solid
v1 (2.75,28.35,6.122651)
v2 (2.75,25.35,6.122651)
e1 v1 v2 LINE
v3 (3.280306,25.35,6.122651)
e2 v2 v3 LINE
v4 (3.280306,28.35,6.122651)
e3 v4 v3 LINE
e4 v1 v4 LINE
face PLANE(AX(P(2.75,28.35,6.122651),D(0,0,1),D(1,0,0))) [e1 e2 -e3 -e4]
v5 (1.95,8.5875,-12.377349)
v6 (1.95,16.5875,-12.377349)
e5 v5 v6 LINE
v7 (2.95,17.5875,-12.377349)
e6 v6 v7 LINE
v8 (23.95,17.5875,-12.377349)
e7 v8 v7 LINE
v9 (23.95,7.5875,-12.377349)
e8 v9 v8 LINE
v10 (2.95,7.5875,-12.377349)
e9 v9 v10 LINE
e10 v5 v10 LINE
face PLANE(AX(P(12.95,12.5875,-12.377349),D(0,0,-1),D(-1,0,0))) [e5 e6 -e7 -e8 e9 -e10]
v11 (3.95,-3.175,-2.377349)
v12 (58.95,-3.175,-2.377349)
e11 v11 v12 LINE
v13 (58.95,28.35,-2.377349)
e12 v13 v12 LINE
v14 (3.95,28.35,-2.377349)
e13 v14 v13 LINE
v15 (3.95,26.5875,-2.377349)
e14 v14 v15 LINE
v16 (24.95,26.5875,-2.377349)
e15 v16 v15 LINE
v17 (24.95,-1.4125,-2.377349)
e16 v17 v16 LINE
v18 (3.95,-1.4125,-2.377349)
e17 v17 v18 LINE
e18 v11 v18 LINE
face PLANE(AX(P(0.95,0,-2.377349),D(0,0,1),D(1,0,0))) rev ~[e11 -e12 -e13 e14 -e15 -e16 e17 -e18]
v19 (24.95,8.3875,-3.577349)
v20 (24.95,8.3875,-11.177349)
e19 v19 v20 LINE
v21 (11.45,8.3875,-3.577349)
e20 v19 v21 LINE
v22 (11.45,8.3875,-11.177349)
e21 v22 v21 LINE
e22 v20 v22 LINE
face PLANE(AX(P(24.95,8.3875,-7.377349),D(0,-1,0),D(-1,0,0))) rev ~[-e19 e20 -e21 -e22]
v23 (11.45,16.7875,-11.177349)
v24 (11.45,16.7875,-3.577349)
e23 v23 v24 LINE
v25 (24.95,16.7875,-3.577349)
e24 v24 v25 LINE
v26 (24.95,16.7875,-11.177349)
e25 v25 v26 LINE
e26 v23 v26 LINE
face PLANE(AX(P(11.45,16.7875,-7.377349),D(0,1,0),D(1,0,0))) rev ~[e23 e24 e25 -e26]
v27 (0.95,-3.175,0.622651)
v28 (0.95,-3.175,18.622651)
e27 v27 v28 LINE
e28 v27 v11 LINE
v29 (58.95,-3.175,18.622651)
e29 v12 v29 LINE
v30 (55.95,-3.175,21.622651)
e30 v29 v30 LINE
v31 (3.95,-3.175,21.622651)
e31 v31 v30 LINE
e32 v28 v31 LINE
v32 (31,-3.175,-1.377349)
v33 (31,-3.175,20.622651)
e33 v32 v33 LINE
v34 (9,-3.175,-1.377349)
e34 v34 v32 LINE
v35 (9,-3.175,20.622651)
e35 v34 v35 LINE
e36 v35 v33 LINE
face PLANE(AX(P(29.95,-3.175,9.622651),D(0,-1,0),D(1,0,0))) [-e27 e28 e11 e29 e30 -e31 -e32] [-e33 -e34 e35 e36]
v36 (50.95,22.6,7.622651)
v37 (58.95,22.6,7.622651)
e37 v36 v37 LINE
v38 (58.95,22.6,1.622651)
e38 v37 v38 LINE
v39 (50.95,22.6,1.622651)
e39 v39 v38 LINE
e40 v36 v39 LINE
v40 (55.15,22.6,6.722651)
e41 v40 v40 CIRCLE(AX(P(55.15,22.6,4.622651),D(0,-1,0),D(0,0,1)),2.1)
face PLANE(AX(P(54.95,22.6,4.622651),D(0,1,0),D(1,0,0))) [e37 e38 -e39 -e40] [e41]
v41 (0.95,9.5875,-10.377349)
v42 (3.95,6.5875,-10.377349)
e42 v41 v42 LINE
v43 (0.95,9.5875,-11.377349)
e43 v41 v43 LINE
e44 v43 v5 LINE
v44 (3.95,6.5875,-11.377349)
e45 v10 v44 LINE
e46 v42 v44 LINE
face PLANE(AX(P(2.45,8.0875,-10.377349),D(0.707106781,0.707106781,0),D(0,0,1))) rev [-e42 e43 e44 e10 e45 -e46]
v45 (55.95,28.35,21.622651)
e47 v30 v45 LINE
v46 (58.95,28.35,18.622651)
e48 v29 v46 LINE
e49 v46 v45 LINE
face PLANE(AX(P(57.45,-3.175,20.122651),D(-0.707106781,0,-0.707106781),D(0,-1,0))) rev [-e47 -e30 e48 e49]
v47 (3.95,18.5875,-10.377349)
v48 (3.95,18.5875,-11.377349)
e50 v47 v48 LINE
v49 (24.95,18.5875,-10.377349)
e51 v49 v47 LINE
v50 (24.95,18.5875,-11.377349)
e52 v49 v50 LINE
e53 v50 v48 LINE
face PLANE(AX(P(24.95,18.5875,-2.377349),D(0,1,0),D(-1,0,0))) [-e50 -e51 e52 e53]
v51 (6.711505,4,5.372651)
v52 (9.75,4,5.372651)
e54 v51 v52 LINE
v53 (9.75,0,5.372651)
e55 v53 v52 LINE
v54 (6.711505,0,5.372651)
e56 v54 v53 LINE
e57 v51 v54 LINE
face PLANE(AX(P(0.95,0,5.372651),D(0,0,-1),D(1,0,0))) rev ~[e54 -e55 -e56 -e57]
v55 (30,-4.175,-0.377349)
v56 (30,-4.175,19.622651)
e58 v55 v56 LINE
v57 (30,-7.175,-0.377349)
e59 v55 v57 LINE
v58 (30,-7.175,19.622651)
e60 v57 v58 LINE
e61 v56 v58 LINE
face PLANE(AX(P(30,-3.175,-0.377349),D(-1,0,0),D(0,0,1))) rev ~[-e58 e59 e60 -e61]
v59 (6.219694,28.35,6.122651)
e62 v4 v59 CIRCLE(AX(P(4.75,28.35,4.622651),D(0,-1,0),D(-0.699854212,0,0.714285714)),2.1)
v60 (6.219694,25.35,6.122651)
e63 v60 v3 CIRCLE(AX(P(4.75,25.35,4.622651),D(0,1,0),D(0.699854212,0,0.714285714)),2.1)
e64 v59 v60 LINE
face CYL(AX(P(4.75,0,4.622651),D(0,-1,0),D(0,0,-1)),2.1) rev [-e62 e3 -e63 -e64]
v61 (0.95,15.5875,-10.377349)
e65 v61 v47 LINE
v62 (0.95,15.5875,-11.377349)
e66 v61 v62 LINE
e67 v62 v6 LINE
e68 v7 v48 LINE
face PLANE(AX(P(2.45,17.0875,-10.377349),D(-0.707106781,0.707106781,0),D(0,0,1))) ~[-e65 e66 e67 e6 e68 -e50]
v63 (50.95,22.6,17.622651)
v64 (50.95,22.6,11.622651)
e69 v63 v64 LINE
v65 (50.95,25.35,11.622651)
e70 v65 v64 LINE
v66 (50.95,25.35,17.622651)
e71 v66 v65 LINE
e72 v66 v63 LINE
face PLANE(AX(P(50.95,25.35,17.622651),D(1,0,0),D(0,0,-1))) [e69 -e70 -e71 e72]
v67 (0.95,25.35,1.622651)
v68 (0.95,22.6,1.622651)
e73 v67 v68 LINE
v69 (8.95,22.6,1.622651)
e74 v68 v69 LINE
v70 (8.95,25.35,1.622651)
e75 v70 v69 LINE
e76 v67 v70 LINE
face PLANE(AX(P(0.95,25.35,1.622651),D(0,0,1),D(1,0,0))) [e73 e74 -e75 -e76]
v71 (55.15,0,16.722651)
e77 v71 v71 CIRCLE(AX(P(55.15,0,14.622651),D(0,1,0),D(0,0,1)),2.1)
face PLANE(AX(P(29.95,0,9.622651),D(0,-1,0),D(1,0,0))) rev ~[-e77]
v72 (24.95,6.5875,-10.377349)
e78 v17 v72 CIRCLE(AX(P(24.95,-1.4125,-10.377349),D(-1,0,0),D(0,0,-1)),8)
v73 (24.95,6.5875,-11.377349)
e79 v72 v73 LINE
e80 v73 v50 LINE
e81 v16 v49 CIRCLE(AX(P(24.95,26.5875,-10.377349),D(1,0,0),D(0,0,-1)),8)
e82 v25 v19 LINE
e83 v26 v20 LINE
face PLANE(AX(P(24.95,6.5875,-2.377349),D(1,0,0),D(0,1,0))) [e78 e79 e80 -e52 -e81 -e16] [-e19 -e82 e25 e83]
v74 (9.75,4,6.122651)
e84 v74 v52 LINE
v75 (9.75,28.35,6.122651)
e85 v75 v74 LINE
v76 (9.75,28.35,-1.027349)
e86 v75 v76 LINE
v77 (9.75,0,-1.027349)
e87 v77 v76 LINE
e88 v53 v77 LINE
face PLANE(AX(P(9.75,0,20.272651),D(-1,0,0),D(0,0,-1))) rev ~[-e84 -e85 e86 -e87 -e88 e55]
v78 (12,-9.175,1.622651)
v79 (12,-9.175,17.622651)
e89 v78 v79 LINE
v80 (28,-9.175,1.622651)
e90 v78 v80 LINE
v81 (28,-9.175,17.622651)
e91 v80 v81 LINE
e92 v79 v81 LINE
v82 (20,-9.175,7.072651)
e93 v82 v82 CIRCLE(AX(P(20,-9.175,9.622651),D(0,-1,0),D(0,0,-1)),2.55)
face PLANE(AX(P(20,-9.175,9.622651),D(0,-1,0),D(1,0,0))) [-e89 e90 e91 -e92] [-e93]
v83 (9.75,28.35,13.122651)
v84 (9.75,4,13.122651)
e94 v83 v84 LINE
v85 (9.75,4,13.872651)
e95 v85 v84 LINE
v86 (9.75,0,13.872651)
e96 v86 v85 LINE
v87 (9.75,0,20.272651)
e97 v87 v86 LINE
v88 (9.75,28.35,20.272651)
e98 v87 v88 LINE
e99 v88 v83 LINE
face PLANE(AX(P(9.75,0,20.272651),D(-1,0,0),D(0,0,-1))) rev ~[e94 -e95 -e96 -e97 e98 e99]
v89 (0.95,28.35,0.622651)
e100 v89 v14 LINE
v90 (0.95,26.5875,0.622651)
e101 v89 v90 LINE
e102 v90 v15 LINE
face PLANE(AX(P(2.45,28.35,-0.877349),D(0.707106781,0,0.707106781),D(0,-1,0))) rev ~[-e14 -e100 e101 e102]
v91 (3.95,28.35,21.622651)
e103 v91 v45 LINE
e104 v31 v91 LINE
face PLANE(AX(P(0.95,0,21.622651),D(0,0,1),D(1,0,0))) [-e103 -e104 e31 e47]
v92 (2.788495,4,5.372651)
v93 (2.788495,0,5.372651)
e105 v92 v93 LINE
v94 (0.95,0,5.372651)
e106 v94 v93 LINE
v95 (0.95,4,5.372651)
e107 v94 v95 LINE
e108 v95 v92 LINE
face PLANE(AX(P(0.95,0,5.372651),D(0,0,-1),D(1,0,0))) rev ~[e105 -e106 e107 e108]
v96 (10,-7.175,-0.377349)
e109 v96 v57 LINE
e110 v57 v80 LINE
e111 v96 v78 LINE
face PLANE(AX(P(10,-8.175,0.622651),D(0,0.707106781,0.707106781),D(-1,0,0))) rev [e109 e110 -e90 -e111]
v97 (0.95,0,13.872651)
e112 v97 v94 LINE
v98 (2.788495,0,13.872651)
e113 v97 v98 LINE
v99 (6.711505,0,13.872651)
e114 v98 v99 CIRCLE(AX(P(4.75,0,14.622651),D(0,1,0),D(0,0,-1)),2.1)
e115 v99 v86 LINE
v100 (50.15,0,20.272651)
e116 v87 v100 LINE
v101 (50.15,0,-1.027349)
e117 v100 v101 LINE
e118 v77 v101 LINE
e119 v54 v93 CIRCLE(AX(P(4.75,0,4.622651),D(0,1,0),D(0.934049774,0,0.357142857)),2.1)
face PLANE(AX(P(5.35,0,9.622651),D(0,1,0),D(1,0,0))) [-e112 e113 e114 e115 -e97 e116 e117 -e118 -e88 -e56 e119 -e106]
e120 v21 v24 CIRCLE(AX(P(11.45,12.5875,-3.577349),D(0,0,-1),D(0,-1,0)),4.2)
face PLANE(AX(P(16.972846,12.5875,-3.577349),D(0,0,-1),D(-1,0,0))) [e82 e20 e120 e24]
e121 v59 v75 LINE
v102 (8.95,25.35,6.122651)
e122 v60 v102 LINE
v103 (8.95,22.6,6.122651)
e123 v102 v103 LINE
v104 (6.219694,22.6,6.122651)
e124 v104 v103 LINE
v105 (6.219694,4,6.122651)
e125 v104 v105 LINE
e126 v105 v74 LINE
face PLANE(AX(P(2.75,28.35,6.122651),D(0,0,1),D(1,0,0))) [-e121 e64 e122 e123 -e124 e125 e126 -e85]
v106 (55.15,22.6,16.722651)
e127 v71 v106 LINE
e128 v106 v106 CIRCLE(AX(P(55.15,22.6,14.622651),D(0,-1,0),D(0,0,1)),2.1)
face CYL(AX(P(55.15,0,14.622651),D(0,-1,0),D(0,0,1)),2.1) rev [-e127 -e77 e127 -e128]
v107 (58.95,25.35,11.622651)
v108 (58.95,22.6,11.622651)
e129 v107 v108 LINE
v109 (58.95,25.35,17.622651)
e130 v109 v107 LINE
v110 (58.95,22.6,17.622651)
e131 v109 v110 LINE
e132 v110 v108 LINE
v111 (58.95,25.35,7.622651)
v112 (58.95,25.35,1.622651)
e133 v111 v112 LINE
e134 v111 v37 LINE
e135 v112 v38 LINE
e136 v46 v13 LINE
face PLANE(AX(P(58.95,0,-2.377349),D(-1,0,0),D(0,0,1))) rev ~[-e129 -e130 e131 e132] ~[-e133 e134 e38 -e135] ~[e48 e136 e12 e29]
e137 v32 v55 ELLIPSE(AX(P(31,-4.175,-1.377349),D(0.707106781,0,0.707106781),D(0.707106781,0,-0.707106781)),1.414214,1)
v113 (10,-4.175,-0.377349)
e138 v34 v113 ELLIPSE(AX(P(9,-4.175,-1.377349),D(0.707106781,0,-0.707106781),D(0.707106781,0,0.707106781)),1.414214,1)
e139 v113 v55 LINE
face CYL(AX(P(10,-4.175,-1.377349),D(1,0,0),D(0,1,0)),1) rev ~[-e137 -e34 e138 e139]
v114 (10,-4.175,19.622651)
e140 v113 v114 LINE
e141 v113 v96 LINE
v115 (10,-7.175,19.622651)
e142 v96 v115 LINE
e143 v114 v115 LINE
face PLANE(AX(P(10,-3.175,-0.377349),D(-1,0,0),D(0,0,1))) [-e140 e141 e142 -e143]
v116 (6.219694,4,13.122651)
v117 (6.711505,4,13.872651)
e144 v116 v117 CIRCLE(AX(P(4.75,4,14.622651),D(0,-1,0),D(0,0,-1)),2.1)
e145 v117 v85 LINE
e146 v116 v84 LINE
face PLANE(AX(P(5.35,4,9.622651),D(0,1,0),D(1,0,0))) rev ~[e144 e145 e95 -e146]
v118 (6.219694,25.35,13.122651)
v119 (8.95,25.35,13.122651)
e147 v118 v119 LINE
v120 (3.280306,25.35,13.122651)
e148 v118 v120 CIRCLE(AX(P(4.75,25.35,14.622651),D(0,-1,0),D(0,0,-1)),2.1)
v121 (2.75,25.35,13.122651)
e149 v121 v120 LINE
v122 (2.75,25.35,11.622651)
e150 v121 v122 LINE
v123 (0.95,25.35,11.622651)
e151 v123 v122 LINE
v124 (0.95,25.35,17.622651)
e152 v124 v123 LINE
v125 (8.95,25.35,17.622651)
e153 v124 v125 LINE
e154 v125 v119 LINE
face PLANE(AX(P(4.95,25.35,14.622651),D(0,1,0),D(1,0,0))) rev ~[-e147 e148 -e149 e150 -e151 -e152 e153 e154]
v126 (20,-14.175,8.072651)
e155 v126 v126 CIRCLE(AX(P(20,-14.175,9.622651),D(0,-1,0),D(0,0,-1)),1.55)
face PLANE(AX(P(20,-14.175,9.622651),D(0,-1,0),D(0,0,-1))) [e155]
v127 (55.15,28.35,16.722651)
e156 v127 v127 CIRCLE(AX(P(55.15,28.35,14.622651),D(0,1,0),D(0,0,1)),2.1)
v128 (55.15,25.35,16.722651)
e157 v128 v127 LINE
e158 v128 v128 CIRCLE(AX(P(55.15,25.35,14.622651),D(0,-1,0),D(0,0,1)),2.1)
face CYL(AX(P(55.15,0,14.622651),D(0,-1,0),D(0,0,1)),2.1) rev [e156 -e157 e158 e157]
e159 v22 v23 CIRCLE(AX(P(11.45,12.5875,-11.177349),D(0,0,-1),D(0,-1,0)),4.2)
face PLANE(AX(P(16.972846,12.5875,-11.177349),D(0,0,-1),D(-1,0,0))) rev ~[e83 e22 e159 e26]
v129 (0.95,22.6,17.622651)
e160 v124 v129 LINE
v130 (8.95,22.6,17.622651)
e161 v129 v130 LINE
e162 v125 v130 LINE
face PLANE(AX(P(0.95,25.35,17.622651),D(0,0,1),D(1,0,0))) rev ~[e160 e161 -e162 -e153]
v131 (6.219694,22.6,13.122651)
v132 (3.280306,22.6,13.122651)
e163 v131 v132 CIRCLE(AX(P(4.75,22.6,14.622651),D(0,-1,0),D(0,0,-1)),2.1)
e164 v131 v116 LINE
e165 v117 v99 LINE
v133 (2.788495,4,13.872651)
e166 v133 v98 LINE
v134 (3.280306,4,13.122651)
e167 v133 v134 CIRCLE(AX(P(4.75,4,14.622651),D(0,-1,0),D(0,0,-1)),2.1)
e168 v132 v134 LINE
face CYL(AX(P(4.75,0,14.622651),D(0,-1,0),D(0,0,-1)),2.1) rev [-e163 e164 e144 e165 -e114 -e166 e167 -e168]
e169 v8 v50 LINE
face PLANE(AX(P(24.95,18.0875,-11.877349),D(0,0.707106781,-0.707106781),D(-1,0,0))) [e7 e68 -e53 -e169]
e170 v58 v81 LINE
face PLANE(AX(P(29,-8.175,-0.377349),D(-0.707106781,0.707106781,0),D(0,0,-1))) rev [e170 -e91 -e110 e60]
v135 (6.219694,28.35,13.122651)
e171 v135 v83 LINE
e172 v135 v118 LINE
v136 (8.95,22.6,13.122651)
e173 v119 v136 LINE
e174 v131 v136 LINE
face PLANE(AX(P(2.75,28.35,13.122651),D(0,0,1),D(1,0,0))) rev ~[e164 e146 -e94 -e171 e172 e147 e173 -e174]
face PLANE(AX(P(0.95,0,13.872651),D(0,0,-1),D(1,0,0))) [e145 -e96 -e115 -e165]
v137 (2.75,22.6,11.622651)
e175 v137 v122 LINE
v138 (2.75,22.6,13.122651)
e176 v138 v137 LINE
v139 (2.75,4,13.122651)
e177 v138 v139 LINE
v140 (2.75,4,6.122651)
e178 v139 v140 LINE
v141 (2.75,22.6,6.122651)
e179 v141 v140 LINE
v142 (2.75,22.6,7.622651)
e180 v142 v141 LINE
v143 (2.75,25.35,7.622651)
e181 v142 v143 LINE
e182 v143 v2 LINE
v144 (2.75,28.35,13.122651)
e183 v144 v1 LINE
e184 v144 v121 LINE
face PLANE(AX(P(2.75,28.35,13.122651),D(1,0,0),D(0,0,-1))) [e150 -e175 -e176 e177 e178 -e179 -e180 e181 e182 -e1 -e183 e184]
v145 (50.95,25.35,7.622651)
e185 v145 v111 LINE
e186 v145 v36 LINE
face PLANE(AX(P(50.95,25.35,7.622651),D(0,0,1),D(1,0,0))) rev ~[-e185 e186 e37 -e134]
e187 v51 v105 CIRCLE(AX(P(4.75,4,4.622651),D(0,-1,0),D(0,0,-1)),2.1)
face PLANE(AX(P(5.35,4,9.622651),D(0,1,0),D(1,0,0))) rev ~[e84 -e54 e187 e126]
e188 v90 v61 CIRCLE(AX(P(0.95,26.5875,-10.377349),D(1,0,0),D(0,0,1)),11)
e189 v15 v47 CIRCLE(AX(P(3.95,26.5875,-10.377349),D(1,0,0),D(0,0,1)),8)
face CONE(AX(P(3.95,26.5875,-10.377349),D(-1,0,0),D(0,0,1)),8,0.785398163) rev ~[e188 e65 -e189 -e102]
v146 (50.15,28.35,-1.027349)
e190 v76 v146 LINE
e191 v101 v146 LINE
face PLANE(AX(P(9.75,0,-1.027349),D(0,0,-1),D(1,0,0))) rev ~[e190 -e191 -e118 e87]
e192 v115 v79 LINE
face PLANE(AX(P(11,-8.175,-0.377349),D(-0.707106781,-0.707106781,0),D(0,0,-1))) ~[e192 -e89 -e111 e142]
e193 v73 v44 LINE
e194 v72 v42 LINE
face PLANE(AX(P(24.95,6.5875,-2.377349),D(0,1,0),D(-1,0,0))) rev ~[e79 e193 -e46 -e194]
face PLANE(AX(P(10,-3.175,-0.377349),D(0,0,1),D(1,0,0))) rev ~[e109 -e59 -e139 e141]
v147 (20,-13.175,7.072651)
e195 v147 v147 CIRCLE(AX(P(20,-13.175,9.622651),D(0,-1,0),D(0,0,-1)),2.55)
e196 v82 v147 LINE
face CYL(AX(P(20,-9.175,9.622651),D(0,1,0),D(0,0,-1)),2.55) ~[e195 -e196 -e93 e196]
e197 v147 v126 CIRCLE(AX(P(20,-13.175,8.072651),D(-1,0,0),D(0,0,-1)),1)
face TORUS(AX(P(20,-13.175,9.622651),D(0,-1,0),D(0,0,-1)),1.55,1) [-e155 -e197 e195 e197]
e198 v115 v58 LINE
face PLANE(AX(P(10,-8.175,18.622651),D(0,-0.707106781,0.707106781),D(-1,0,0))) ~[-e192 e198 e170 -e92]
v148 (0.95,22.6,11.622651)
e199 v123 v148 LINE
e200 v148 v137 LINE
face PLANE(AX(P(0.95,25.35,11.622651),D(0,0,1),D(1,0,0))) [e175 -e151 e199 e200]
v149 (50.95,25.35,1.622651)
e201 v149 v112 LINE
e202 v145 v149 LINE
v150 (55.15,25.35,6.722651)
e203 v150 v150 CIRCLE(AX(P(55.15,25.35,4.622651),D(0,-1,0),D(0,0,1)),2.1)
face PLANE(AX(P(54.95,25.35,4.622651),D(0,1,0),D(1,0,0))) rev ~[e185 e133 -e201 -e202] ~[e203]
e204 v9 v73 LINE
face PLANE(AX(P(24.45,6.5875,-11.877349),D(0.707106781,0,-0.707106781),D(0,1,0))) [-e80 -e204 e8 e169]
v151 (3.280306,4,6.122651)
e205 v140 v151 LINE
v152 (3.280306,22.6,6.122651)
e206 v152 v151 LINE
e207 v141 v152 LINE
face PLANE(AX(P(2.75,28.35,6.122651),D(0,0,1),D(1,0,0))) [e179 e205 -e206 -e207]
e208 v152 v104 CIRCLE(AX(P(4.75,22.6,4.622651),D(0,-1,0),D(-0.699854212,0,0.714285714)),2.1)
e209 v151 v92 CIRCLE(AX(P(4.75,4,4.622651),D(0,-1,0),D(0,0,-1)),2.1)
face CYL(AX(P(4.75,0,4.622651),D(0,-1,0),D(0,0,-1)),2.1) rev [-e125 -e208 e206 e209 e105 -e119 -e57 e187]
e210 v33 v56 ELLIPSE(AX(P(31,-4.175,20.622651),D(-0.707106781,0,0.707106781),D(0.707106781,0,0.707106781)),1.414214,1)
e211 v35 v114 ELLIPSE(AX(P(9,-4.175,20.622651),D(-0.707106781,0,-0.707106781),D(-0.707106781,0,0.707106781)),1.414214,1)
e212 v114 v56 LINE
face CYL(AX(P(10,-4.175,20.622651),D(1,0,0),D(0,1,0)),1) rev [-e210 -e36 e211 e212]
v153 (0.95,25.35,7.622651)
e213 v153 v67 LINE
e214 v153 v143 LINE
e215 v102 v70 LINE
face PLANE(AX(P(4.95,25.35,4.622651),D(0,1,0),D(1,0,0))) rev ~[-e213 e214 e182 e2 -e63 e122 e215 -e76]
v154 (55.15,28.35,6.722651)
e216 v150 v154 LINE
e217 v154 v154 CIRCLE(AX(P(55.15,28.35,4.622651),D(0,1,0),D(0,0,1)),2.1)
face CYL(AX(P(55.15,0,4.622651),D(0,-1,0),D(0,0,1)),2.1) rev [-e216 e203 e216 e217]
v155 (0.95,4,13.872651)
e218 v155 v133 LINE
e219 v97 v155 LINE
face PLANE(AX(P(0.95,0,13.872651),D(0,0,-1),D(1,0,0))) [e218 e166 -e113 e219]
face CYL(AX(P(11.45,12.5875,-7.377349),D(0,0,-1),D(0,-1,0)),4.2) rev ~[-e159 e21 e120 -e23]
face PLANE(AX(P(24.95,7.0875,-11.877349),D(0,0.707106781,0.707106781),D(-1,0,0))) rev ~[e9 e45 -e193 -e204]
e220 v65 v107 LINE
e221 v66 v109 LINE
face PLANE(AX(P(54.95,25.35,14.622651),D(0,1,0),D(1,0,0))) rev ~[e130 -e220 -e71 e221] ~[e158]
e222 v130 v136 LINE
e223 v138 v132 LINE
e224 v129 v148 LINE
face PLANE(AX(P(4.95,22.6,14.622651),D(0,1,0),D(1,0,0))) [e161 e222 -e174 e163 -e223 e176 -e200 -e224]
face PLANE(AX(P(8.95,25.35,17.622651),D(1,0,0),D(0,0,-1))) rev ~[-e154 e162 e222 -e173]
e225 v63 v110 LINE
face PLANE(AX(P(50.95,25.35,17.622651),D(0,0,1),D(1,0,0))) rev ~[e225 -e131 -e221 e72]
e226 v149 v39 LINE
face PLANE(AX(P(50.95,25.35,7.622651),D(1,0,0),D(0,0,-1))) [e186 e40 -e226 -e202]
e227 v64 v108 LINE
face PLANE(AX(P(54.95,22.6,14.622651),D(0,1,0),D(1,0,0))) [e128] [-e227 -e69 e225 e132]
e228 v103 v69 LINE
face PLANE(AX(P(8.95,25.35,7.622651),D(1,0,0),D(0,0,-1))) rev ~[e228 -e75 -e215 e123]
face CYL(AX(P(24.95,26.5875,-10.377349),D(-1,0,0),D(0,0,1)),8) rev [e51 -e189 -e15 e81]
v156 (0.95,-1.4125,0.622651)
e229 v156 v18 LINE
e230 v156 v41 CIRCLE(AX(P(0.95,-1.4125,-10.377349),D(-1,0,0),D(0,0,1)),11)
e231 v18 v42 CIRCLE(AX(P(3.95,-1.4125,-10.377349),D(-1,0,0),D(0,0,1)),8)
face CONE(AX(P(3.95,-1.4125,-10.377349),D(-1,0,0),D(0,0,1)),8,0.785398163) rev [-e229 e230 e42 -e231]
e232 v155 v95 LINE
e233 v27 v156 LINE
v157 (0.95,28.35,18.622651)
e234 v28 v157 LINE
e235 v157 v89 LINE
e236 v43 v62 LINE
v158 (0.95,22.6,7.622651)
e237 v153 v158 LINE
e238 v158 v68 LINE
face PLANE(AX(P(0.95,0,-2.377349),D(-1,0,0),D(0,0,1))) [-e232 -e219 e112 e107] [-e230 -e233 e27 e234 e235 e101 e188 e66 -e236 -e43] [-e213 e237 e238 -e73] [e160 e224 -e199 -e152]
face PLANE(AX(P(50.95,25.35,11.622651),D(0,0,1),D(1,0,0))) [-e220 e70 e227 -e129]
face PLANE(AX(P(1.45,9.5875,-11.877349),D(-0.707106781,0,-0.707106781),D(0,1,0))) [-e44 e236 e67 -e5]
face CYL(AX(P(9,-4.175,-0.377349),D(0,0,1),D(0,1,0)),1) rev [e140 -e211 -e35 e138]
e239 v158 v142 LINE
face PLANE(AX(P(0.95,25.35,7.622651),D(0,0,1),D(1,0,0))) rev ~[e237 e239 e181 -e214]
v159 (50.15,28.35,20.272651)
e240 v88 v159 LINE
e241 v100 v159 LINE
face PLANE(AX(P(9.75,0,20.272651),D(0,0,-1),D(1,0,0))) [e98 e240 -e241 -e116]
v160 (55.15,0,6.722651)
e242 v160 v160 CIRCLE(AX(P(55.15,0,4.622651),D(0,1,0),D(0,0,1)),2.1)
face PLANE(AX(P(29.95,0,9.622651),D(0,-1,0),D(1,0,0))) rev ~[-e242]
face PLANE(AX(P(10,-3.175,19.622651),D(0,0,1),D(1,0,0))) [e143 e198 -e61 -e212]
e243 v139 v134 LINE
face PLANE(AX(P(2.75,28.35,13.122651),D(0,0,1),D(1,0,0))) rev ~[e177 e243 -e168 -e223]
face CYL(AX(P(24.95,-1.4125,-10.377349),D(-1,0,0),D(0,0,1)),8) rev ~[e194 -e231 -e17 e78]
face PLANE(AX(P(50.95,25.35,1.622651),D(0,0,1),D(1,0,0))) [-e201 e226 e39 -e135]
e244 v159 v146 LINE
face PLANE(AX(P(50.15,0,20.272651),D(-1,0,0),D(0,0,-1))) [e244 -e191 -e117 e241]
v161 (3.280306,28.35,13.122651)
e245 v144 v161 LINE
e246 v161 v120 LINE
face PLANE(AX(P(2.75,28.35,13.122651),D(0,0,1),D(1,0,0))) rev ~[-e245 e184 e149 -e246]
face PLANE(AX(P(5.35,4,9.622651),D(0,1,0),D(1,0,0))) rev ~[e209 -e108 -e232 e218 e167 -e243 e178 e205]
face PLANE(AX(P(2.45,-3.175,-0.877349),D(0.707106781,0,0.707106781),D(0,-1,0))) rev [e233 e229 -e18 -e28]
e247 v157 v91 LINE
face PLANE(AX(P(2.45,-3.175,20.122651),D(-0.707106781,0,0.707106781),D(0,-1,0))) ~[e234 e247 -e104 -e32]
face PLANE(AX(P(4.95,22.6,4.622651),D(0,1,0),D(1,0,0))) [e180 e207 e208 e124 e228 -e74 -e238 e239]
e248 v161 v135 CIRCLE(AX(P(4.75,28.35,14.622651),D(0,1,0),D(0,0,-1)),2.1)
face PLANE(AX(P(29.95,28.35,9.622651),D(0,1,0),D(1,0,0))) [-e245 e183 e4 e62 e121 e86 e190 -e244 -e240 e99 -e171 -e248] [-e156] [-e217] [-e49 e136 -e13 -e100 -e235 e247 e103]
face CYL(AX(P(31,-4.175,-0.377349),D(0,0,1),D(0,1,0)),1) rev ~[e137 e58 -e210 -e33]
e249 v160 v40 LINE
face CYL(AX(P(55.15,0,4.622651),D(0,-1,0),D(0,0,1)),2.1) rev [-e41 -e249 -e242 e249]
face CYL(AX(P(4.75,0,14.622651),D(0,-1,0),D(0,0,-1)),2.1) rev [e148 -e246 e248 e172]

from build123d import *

# Parameters (mm, degrees)
SKETCH1_W           = 58
SKETCH1_H           = 24
SKETCH1_R           = 2.1
SKETCH1_W_2         = 40.4
SKETCH1_H_2         = 21.3
BOSS_EXTRUDE1_DEPTH = 28.35
SKETCH11_W          = 58
SKETCH11_H          = 24
BOSS_EXTRUDE5_DEPTH = 3.175
SKETCH14_W          = 24
SKETCH14_H          = 12
BOSS_EXTRUDE7_DEPTH = 10
CUT_EXTRUDE1_DEPTH  = 3.8
FILLET1_R           = 8
CHAMFER2_SIZE       = 3
CHAMFER3_SIZE       = 1
SKETCH19_W          = 8
SKETCH19_H          = 6
CUT_EXTRUDE3_DEPTH  = 2.75
SKETCH20_W          = 8.8
SKETCH20_H          = 8.5
CUT_EXTRUDE4_DEPTH  = 4
SKETCH21_W          = 20
SKETCH21_H          = 20
BOSS_EXTRUDE8_DEPTH = 6
SKETCH13_R          = 2.55
BOSS_EXTRUDE6_DEPTH = 5
FILLET4_R           = 1
CHAMFER4_SIZE       = 2
FILLET5_R           = 1
CUT_EXTRUDE5_REACH  = 77.835
SKETCH22_W          = 7
SKETCH22_H          = 7


with BuildPart() as part:
    # Sketch1 → Boss-Extrude1 (new body)
    with BuildSketch(Plane(origin=(0, 0, 0), x_dir=(1, 0, 0), z_dir=(0, 1, 0))):
        with Locations((29.95, -9.622651473)):
            Rectangle(SKETCH1_W, SKETCH1_H)
        with Locations(Location((55.15, -4.622651473, 0), (0, 0, 270))):
            Circle(SKETCH1_R, mode=Mode.SUBTRACT)
        with Locations(Location((55.15, -14.622651473, 0), (0, 0, 270))):
            Circle(SKETCH1_R, mode=Mode.SUBTRACT)
        with Locations(Location((4.75, -14.622651473, 0), (0, 0, 90))):
            Circle(SKETCH1_R, mode=Mode.SUBTRACT)
        with Locations(Location((4.75, -4.622651473, 0), (0, 0, 90))):
            Circle(SKETCH1_R, mode=Mode.SUBTRACT)
        with Locations((29.95, -9.622651473)):
            Rectangle(SKETCH1_W_2, SKETCH1_H_2, mode=Mode.SUBTRACT)
    extrude(amount=BOSS_EXTRUDE1_DEPTH)

    # Sketch11 → Boss-Extrude5 (add)
    with BuildSketch(Plane.XZ):
        with Locations((29.95, 9.622651473)):
            Rectangle(SKETCH11_W, SKETCH11_H)
    extrude(amount=BOSS_EXTRUDE5_DEPTH)

    # Sketch14 → Boss-Extrude7 (add)
    with BuildSketch(Plane(origin=(0, 0, -2.377348527), x_dir=(-1, 0, 0), z_dir=(0, 0, -1))):
        with Locations((-12.95, 12.5875)):
            Rectangle(SKETCH14_W, SKETCH14_H)
    extrude(amount=BOSS_EXTRUDE7_DEPTH)

    # Sketch16 → Cut-Extrude1 (cut, symmetric)
    with BuildSketch(Plane(origin=(0, 0, -7.377348527), x_dir=(-1, 0, 0), z_dir=(0, 0, -1))):
        with BuildLine():
            Line((-11.45, 16.7875), (-24.95, 16.7875))
            Line((-24.95, 16.7875), (-24.95, 8.3875))
            Line((-24.95, 8.3875), (-11.45, 8.3875))
            ThreePointArc((-11.45, 8.3875), (-7.25, 12.5875), (-11.45, 16.7875))
        make_face()
    extrude(amount=CUT_EXTRUDE1_DEPTH, both=True, mode=Mode.SUBTRACT)

    # Fillet1
    fillet1_edges = [part.edges().sort_by_distance(p)[0] for p in [
        (12.95, 6.5875, -2.377348527),
        (12.95, 18.5875, -2.377348527),
    ]]
    fillet(fillet1_edges, radius=FILLET1_R)

    # Chamfer2
    chamfer2_edges = [part.edges().sort_by_distance(p)[0] for p in [
        (0.95, 6.5875, -11.377348527),
        (0.95, 18.5875, -11.377348527),
        (58.95, 12.5875, 21.622651473),
        (0.95, 12.5875, 21.622651473),
        (0.95, 27.46875, -2.377348527),
        (0.95, -2.29375, -2.377348527),
        (0.95, 4.244354249, -4.720494277),
        (0.95, 20.930645751, -4.720494277),
    ]]
    chamfer(chamfer2_edges, length=CHAMFER2_SIZE)

    # Chamfer3
    chamfer3_edges = [part.edges().sort_by_distance(p)[0] for p in [
        (0.95, 12.5875, -12.377348527),
        (14.45, 18.5875, -12.377348527),
        (24.95, 12.5875, -12.377348527),
        (14.45, 6.5875, -12.377348527),
    ]]
    chamfer(chamfer3_edges, length=CHAMFER3_SIZE)

    # Sketch19 → Cut-Extrude3 (cut)
    with BuildSketch(Plane(origin=(0, 25.35, 0), x_dir=(1, 0, 0), z_dir=(0, 1, 0))):
        with Locations((4.95, -4.622651473)):
            Rectangle(SKETCH19_W, SKETCH19_H)
        with Locations((4.95, -14.622651473)):
            Rectangle(SKETCH19_W, SKETCH19_H)
        with Locations((54.95, -14.622651473)):
            Rectangle(SKETCH19_W, SKETCH19_H)
        with Locations((54.95, -4.622651473)):
            Rectangle(SKETCH19_W, SKETCH19_H)
    extrude(amount=-CUT_EXTRUDE3_DEPTH, mode=Mode.SUBTRACT)

    # Sketch20 → Cut-Extrude4 (cut)
    with BuildSketch(Plane(origin=(0, 0, 0), x_dir=(1, 0, 0), z_dir=(0, 1, 0))):
        with Locations((5.35, -9.622651473)):
            Rectangle(SKETCH20_W, SKETCH20_H)
    extrude(amount=CUT_EXTRUDE4_DEPTH, mode=Mode.SUBTRACT)

    # Sketch21 → Boss-Extrude8 (add)
    with BuildSketch(Plane.XZ.offset(3.175)):
        with Locations((20, 9.622651473)):
            Rectangle(SKETCH21_W, SKETCH21_H)
    extrude(amount=BOSS_EXTRUDE8_DEPTH)

    # Sketch13 → Boss-Extrude6 (add)
    with BuildSketch(Plane.XZ.offset(9.175)):
        with Locations(Location((20, 9.622651473, 0), (0, 0, 270))):
            Circle(SKETCH13_R)
    extrude(amount=BOSS_EXTRUDE6_DEPTH)

    # Fillet4
    fillet4_edges = [part.edges().sort_by_distance(p)[0] for p in [
        (10, -3.175, 9.622651473),
        (20, -3.175, -0.377348527),
        (30, -3.175, 9.622651473),
        (20, -3.175, 19.622651473),
    ]]
    fillet(fillet4_edges, radius=FILLET4_R)

    # Chamfer4
    chamfer4_edges = [part.edges().sort_by_distance(p)[0] for p in [
        (10, -9.175, 9.622651473),
        (20, -9.175, -0.377348527),
        (30, -9.175, 9.622651473),
        (20, -9.175, 19.622651473),
    ]]
    chamfer(chamfer4_edges, length=CHAMFER4_SIZE)

    # Fillet5
    fillet5_edges = [part.edges().sort_by_distance(p)[0] for p in [
        (20, -14.175, 12.172651473),
    ]]
    fillet(fillet5_edges, radius=FILLET5_R)

    # Cut-Extrude5: up to this face of the body (flat: up to its plane)
    cut_extrude5_end = Plane(part.part.faces().sort_by_distance((55.15, 0, 14.622651473))[0])
    # Sketch22 → Cut-Extrude5 (cut, up to the picked face)
    with BuildSketch(Plane(origin=(0, 28.35, 0), x_dir=(1, 0, 0), z_dir=(0, 1, 0)), mode=Mode.PRIVATE) as cut_extrude5_sk1:
        with Locations((6.25, -9.622651473)):
            Rectangle(SKETCH22_W, SKETCH22_H)
    cut_extrude5_tool1 = split(extrude(cut_extrude5_sk1.sketch, amount=-CUT_EXTRUDE5_REACH, mode=Mode.PRIVATE), bisect_by=cut_extrude5_end, keep=Keep.BOTH, mode=Mode.PRIVATE)
    add(cut_extrude5_tool1.solids().sort_by(Axis((6.25, 28.35, 9.622651), (0, -1, 0)))[0], mode=Mode.SUBTRACT)


solid = part.part
